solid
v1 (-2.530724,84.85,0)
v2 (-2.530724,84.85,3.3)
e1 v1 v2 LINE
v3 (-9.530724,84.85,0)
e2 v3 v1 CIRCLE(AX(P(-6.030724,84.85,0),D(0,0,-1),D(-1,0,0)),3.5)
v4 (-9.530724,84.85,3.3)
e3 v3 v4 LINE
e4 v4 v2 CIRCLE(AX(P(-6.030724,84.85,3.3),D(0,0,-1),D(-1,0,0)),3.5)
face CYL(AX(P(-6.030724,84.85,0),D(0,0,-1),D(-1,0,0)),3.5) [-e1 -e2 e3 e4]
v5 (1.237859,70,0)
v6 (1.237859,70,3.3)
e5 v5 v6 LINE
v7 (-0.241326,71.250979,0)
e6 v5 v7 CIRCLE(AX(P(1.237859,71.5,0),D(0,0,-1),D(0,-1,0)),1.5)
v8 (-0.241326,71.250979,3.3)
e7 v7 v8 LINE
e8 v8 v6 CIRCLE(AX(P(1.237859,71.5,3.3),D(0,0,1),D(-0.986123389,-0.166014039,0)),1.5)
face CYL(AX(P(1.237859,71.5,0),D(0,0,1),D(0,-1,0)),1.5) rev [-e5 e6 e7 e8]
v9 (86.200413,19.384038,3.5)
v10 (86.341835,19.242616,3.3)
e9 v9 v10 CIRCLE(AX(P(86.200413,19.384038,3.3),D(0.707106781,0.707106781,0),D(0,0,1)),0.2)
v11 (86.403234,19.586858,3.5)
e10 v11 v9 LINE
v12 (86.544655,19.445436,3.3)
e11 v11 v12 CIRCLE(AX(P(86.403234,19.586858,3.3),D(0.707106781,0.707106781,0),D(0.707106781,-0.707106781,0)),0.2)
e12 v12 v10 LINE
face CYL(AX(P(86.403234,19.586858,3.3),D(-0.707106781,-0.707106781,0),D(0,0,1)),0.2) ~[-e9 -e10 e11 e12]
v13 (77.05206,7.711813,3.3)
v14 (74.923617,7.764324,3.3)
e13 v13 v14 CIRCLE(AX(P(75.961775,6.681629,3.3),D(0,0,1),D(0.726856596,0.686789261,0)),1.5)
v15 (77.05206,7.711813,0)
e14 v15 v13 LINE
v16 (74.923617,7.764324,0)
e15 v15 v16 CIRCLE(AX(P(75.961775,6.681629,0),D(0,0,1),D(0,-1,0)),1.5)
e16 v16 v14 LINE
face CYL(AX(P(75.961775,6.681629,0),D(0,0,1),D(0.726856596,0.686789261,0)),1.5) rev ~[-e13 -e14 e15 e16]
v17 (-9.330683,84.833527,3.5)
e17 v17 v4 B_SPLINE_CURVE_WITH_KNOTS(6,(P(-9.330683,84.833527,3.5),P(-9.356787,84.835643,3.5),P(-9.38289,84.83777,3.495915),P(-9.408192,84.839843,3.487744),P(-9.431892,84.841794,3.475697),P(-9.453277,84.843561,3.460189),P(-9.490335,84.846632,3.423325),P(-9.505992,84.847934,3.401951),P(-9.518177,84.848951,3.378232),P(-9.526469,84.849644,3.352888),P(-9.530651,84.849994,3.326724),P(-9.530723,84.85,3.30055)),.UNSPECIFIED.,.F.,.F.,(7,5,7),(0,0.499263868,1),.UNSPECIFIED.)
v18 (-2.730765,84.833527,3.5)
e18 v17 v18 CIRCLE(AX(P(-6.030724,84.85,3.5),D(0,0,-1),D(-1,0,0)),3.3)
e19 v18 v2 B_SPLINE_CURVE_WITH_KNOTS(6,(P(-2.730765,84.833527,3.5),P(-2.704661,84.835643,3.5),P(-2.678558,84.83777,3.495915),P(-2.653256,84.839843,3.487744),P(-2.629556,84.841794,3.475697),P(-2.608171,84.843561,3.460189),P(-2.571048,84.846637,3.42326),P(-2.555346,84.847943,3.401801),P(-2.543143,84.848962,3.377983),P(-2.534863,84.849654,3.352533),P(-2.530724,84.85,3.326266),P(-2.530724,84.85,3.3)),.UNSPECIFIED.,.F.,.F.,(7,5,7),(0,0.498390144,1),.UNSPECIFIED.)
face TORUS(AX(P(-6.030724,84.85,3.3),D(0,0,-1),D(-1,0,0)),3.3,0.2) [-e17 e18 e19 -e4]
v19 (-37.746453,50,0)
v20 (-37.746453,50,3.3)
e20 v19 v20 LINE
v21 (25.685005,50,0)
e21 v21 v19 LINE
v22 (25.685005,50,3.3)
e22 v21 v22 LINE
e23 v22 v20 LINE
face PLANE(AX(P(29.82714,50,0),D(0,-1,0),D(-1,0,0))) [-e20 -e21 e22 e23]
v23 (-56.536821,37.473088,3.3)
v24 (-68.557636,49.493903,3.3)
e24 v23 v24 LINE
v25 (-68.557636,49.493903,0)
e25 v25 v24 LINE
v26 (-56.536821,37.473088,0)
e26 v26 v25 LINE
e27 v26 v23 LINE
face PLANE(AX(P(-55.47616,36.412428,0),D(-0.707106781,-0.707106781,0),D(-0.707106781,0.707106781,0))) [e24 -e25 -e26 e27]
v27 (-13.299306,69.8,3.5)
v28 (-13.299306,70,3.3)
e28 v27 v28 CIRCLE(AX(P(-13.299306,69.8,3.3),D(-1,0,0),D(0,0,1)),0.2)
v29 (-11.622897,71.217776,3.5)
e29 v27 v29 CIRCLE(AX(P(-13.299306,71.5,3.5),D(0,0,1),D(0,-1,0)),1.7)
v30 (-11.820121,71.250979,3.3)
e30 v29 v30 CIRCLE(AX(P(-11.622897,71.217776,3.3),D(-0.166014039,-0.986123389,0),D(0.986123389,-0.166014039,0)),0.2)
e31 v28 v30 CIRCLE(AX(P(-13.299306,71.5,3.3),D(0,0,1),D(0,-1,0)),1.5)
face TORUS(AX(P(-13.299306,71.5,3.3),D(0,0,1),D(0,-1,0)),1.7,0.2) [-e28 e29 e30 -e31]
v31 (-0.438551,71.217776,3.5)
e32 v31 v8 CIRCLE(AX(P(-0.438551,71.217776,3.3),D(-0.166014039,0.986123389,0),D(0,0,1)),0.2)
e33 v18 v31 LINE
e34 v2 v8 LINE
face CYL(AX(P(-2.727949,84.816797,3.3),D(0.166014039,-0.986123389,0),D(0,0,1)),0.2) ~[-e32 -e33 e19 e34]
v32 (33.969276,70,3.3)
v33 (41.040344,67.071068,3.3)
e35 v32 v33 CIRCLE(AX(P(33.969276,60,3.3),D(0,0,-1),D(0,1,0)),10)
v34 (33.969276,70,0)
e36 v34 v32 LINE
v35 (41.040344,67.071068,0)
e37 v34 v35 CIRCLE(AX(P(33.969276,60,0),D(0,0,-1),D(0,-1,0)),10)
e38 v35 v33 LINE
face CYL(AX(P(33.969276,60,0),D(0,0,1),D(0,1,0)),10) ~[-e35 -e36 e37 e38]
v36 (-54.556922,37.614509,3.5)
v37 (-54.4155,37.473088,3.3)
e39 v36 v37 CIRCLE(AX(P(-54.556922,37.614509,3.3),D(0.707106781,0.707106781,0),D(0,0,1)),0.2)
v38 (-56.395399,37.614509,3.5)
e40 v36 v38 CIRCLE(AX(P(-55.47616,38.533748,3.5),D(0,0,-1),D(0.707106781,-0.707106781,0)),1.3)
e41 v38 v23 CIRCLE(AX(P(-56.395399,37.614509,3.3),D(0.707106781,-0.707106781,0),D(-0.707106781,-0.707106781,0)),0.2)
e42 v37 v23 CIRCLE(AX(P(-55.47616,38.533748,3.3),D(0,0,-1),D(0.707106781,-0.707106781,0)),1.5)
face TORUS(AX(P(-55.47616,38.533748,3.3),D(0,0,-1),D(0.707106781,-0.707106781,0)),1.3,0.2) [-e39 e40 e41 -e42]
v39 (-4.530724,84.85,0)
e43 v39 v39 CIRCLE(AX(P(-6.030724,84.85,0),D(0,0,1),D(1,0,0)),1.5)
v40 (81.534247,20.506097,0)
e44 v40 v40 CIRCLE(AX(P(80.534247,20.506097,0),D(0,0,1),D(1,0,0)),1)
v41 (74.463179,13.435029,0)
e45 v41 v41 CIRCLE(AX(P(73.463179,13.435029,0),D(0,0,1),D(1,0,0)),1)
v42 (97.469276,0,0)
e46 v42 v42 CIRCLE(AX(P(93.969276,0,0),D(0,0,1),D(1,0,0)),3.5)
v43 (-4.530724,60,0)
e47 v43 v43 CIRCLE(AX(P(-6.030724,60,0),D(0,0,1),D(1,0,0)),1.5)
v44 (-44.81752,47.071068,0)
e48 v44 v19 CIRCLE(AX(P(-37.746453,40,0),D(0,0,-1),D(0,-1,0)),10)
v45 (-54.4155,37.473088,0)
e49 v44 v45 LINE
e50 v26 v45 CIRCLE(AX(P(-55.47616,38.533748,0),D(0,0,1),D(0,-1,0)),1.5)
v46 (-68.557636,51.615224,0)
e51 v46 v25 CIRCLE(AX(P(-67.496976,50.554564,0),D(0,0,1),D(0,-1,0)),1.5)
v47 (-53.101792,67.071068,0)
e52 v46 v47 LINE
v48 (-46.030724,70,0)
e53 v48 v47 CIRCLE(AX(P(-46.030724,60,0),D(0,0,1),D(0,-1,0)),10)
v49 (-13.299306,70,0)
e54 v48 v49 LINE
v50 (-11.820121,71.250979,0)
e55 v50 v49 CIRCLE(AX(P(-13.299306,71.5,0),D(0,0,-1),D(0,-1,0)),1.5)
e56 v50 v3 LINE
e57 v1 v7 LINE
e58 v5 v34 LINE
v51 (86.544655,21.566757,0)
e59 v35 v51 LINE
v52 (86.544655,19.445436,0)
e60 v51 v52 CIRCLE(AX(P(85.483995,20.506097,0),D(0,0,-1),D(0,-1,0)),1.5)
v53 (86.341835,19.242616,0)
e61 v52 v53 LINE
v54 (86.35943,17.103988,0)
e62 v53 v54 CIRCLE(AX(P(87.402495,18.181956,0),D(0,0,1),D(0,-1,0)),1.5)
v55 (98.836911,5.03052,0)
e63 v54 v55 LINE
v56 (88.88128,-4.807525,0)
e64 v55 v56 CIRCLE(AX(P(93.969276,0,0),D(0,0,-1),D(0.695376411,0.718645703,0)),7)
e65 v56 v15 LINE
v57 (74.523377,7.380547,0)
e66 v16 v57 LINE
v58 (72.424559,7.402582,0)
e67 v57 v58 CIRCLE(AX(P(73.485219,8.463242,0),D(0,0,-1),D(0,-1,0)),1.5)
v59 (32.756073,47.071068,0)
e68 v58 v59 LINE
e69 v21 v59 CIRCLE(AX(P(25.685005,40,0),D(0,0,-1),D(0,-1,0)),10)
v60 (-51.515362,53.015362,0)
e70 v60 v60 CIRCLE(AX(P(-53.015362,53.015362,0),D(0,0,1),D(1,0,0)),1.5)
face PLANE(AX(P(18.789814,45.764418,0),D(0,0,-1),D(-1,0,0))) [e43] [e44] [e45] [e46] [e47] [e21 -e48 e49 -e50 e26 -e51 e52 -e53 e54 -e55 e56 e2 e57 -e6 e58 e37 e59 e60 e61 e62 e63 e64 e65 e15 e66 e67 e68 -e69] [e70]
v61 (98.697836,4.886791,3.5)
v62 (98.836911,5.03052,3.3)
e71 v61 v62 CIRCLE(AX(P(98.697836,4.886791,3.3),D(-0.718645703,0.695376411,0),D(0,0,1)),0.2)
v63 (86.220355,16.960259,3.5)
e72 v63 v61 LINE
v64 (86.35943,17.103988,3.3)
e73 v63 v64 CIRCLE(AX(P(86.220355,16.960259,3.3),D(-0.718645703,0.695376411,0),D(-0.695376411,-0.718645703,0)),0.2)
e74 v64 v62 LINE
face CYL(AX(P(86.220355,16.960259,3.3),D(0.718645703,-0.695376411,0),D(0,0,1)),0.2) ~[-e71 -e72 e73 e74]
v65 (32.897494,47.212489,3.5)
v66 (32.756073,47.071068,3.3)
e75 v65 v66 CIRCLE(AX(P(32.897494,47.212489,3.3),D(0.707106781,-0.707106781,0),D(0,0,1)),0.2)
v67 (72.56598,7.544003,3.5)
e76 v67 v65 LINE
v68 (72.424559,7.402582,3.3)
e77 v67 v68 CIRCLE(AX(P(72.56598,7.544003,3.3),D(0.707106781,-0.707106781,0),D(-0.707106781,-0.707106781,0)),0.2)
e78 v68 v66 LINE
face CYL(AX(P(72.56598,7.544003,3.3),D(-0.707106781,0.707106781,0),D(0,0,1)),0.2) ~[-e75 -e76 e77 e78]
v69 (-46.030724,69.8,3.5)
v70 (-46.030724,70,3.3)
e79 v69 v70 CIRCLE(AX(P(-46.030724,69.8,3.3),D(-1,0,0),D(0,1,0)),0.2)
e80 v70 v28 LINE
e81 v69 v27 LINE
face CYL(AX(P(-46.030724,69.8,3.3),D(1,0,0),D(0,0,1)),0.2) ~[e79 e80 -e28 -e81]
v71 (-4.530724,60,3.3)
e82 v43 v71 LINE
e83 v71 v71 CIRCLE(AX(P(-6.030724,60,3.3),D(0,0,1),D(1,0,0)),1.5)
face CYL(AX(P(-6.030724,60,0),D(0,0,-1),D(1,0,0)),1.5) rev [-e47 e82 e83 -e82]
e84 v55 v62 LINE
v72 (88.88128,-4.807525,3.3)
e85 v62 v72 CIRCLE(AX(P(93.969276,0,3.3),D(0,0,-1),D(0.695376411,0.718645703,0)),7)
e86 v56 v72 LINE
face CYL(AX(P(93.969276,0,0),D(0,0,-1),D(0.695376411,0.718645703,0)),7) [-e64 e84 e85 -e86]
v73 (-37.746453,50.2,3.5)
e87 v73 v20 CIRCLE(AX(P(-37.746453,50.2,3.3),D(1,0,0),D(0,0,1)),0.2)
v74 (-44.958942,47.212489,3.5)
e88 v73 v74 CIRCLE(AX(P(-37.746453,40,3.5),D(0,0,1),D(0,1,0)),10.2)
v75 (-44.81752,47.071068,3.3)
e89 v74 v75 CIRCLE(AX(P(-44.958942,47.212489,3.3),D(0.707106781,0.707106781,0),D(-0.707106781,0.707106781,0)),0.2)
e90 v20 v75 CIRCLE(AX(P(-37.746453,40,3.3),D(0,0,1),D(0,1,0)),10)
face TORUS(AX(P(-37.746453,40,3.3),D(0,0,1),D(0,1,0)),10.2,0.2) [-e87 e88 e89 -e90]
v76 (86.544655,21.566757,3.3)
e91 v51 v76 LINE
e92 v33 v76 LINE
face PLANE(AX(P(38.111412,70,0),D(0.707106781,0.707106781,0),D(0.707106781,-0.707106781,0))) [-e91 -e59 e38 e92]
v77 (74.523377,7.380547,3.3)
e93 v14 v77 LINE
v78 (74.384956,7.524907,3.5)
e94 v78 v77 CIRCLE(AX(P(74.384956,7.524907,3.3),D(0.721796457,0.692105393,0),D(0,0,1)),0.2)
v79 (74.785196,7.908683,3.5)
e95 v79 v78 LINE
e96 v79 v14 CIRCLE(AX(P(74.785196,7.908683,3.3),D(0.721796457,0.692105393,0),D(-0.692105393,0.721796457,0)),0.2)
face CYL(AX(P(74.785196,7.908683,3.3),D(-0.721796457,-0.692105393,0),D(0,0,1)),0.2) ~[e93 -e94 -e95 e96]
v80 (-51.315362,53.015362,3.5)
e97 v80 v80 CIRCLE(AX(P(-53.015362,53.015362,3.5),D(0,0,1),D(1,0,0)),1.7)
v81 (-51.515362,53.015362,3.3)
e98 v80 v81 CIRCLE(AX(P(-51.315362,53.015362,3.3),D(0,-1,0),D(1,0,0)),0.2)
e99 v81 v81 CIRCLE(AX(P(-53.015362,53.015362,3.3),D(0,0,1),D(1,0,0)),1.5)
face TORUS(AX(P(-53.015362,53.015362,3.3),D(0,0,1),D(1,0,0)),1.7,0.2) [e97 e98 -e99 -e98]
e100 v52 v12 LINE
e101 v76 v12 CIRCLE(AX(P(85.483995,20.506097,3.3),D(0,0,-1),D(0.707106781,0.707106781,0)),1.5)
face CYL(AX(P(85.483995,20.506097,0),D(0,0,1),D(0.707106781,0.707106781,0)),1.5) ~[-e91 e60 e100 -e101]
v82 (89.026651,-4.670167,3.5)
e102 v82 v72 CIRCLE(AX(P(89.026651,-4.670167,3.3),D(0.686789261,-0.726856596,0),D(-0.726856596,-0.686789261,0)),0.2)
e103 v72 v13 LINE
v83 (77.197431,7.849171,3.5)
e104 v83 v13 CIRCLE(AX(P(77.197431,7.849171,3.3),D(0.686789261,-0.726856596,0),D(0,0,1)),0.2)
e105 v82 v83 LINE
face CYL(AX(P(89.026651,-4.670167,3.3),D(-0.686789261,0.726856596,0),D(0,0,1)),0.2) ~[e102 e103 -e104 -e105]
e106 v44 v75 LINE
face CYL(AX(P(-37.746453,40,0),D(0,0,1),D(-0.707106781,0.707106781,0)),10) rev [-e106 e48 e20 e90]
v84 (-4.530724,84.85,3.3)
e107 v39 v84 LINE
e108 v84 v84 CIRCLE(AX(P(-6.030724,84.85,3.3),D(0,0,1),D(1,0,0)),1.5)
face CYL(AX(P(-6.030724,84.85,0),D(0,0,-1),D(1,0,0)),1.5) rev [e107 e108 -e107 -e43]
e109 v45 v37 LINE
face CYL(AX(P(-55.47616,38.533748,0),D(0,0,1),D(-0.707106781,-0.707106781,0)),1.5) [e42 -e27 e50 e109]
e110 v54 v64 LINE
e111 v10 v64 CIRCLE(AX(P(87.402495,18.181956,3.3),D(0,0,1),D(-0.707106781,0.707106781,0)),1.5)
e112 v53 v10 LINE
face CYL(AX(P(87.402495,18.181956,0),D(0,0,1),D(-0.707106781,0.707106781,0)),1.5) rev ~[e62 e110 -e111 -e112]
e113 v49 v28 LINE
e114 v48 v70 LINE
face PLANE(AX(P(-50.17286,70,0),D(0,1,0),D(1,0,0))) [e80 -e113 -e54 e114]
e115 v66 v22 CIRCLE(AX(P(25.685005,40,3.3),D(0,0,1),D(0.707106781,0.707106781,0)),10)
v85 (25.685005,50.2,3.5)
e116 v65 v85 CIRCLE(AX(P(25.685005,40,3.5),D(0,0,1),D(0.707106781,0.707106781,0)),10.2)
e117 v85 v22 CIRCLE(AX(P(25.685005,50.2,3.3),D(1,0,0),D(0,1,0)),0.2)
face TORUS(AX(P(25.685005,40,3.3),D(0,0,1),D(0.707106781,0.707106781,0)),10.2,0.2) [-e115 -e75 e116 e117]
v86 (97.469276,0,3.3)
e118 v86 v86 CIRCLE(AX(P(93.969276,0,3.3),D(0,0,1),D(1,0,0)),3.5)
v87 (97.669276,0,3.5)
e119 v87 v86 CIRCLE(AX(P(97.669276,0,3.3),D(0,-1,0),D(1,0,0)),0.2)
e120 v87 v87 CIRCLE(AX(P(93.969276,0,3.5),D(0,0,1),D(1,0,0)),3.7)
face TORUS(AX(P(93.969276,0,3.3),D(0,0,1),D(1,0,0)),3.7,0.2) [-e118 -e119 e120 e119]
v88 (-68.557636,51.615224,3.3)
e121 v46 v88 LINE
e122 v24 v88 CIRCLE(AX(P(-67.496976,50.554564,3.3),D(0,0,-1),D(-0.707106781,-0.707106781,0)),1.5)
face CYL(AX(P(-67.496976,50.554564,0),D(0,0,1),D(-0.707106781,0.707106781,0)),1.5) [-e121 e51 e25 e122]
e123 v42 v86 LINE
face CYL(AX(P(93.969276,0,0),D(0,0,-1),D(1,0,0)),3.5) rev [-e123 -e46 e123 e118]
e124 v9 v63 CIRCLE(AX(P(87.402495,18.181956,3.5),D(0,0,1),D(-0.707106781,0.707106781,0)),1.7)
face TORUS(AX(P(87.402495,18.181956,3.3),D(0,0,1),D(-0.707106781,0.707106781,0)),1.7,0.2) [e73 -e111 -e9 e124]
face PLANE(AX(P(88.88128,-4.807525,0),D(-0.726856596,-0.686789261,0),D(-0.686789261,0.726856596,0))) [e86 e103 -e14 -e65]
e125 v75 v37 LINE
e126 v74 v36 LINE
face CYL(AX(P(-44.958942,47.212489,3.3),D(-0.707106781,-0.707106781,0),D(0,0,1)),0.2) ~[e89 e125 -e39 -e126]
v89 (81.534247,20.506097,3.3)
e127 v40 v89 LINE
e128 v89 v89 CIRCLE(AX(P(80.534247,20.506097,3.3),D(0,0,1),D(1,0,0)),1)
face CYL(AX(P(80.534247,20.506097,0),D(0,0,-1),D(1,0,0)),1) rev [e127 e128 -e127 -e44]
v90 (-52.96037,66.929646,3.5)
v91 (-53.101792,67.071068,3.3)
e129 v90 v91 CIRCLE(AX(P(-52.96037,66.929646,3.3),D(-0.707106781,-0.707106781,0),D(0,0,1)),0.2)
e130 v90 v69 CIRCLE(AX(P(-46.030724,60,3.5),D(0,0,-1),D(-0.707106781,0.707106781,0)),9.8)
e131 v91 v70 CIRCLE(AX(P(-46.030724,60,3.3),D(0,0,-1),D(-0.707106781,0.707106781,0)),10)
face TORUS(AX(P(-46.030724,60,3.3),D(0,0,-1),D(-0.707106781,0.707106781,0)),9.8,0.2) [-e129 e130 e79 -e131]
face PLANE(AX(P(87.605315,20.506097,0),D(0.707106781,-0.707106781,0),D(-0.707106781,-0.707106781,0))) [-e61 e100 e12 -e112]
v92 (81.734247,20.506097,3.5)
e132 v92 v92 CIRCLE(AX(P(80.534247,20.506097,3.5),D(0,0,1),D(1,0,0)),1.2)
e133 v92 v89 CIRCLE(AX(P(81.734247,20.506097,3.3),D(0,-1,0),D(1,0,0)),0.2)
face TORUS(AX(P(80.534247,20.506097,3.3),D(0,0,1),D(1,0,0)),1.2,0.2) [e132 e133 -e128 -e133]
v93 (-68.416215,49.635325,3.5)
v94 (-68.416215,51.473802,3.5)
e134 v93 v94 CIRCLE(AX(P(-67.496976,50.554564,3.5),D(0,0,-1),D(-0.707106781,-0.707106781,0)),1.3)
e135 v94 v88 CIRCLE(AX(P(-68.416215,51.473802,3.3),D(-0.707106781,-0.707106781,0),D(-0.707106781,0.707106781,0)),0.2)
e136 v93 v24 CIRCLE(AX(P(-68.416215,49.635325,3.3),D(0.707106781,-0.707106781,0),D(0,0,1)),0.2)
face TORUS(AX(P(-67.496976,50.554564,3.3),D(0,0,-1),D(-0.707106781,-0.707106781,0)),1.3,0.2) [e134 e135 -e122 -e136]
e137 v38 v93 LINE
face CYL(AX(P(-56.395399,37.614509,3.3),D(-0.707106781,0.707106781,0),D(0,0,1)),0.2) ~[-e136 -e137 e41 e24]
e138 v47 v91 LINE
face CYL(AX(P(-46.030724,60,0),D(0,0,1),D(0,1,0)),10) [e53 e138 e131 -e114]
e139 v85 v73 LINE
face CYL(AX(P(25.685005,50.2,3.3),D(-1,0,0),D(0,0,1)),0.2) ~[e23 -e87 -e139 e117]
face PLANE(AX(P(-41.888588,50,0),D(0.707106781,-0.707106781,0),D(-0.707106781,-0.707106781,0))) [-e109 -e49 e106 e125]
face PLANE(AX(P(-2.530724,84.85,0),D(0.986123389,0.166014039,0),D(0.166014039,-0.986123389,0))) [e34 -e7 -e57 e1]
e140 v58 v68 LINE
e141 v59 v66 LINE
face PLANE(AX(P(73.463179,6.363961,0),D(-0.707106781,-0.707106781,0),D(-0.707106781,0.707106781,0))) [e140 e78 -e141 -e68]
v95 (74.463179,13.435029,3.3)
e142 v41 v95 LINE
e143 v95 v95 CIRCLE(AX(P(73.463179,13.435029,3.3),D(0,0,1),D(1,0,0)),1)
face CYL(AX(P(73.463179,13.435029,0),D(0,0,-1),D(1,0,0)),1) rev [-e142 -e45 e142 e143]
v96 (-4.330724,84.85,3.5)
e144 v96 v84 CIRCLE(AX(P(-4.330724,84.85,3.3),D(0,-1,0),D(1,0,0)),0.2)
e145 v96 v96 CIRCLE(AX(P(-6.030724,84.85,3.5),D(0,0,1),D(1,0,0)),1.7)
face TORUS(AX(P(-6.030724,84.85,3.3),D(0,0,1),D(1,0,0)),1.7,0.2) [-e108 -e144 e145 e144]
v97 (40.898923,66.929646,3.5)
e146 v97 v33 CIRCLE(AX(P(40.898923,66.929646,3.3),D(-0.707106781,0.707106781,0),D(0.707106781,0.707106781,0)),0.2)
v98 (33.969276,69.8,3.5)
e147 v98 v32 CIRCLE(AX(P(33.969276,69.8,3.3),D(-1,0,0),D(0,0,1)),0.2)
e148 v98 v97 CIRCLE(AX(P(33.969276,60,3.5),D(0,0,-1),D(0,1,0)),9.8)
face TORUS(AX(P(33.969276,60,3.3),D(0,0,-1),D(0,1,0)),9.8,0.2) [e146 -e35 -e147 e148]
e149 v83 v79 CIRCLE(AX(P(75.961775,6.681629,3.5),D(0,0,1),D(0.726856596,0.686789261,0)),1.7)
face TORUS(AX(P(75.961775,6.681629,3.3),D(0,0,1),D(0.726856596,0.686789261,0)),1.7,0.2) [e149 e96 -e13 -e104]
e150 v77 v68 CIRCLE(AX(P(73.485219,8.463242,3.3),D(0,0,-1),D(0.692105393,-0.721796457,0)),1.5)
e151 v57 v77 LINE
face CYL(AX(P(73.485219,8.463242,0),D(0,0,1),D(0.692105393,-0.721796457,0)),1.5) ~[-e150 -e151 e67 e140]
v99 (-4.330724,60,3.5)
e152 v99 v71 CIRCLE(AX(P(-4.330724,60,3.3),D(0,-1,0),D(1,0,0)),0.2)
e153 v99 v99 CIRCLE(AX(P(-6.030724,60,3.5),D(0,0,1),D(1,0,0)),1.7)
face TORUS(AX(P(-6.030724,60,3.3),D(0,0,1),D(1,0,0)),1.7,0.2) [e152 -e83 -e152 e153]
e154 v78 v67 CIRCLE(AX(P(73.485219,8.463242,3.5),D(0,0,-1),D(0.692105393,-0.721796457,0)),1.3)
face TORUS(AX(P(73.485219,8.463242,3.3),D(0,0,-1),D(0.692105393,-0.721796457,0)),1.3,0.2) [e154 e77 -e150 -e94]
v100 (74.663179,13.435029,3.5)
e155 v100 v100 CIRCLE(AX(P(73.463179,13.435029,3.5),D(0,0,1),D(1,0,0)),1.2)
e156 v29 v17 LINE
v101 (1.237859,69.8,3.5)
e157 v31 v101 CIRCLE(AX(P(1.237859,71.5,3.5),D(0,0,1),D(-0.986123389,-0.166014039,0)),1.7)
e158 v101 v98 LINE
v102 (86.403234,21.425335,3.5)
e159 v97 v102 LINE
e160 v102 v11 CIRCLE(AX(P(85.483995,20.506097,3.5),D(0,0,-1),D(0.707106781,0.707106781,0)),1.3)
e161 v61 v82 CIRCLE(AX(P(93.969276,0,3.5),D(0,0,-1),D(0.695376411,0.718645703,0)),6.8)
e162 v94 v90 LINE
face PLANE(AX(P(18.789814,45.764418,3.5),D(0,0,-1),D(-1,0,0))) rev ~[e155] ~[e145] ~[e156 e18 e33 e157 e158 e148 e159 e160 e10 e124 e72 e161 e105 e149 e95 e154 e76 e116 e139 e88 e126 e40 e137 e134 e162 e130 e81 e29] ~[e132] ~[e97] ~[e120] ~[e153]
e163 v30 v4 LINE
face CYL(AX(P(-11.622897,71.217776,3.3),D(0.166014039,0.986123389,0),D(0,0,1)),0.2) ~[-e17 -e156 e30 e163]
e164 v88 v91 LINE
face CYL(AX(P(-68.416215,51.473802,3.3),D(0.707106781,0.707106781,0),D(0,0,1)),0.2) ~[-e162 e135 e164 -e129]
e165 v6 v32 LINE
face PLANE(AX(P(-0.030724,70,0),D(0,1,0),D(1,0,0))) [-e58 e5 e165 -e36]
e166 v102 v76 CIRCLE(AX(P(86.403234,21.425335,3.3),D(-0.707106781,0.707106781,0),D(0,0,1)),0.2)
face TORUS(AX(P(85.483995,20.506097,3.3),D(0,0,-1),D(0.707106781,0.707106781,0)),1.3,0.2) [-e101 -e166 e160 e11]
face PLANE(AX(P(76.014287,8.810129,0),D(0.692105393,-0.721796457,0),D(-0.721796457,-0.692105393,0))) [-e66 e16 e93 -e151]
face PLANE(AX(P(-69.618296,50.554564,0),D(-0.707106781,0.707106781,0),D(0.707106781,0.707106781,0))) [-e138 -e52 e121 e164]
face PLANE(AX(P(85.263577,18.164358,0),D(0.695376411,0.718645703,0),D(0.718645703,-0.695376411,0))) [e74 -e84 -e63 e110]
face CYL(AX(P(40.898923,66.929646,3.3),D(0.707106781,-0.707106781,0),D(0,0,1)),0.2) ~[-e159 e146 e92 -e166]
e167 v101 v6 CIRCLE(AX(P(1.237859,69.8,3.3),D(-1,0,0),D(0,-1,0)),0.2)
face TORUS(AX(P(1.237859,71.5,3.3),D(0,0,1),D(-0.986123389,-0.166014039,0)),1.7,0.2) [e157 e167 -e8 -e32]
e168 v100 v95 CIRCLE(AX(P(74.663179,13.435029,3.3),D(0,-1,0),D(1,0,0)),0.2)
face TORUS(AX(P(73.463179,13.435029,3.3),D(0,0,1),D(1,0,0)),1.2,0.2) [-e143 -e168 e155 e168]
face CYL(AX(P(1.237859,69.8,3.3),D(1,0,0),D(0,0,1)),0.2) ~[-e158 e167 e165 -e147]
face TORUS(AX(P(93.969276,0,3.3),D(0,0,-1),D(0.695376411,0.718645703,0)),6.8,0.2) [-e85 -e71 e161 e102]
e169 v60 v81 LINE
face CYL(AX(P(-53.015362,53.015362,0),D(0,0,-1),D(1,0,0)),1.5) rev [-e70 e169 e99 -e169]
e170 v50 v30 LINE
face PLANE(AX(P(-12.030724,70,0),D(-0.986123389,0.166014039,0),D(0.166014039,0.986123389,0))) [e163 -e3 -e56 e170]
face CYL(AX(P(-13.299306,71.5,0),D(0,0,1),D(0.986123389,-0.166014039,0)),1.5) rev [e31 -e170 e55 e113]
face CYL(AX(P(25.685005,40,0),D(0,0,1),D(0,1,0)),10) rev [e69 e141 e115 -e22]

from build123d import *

# Parameters (mm, degrees)
SKETCH5_R           = 3.5
SKETCH5_R_2         = 1.5
SKETCH5_R_3         = 1
BOSS_EXTRUDE1_DEPTH = 3.5
FILLET1_R           = 10
FILLET2_R           = 1.5
FILLET3_R           = 0.2


with BuildPart() as part:
    # Sketch5 → Boss-Extrude1 (new body)
    with BuildSketch(Plane.XY):
        with BuildLine():
            Line((-2.53072393, 84.85), (-0.03072393, 70))
            Line((-0.03072393, 70), (38.111411694, 70))
            Line((38.111411694, 70), (87.60531504, 20.506096654))
            Line((87.60531504, 20.506096654), (85.263576648, 18.164358262))
            Line((85.263576648, 18.164358262), (98.836910948, 5.030519924))
            ThreePointArc((98.836910948, 5.030519924), (98.889532253, -4.979064078), (88.881279899, -4.807524827))
            Line((88.881279899, -4.807524827), (76.014287219, 8.810129133))
            Line((76.014287219, 8.810129133), (73.463179416, 6.363961031))
            Line((73.463179416, 6.363961031), (29.827140447, 50))
            Line((29.827140447, 50), (-41.888588306, 50))
            Line((-41.888588306, 50), (-55.476160412, 36.412427894))
            Line((-55.476160412, 36.412427894), (-69.618296036, 50.554563517))
            Line((-69.618296036, 50.554563517), (-50.172859553, 70))
            Line((-50.172859553, 70), (-12.03072393, 70))
            Line((-12.03072393, 70), (-9.53072393, 84.85))
            ThreePointArc((-9.53072393, 84.85), (-6.03072393, 88.35), (-2.53072393, 84.85))
        make_face()
        with Locations((93.96927607, 0)):
            Circle(SKETCH5_R, mode=Mode.SUBTRACT)
        with Locations((-53.015361965, 53.015361965)):
            Circle(SKETCH5_R_2, mode=Mode.SUBTRACT)
        with Locations((-6.03072393, 84.85)):
            Circle(SKETCH5_R_2, mode=Mode.SUBTRACT)
        with Locations((-6.03072393, 60)):
            Circle(SKETCH5_R_2, mode=Mode.SUBTRACT)
        with Locations((80.534247228, 20.506096654)):
            Circle(SKETCH5_R_3, mode=Mode.SUBTRACT)
        with Locations((73.463179416, 13.435028843)):
            Circle(SKETCH5_R_3, mode=Mode.SUBTRACT)
    extrude(amount=BOSS_EXTRUDE1_DEPTH)

    # Fillet1
    fillet1_edges = [part.edges().sort_by_distance(p)[0] for p in [
        (29.827140447, 50, 1.75),
        (-41.888588306, 50, 1.75),
        (-50.172859553, 70, 1.75),
        (38.111411694, 70, 1.75),
    ]]
    fillet(fillet1_edges, radius=FILLET1_R)

    # Fillet2
    fillet2_edges = [part.edges().sort_by_distance(p)[0] for p in [
        (76.014287219, 8.810129133, 1.75),
        (73.463179416, 6.363961031, 1.75),
        (-55.476160412, 36.412427894, 1.75),
        (-69.618296036, 50.554563517, 1.75),
        (-12.03072393, 70, 1.75),
        (-0.03072393, 70, 1.75),
        (87.60531504, 20.506096654, 1.75),
        (85.263576648, 18.164358262, 1.75),
    ]]
    fillet(fillet2_edges, radius=FILLET2_R)

    # Fillet3
    fillet3_edges = [part.edges().sort_by_distance(p)[0] for p in [
        (-62.547228224, 43.483495706, 3.5),
        (-29.665015214, 70, 3.5),
        (74.723496899, 7.572435413, 3.5),
        (82.966669902, 1.452143944, 3.5),
        (86.443244813, 19.344026427, 3.5),
        (63.792499375, 44.318912319, 3.5),
        (-1.386025187, 78.050489471, 3.5),
        (86.983994696, 20.506096654, 3.5),
        (73.469471855, 6.963324661, 3.5),
        (-68.996975692, 50.554563517, 3.5),
        (-55.476160412, 37.033748237, 3.5),
        (-12.330681593, 70.354676555, 3.5),
        (0.269233734, 70.354676555, 3.5),
        (75.998770238, 8.181172538, 3.5),
        (85.902545695, 18.169615377, 3.5),
        (-6.03072393, 88.35, 3.5),
        (-10.675422672, 78.050489471, 3.5),
        (90.46927607, 0, 3.5),
        (-54.515361965, 53.015361965, 3.5),
        (-7.53072393, 84.85, 3.5),
        (98.889532253, -4.979064078, 3.5),
        (-7.53072393, 60, 3.5),
        (79.534247228, 20.506096654, 3.5),
        (72.463179416, 13.435028843, 3.5),
        (52.590315625, 27.236824822, 3.5),
        (-6.03072393, 50, 3.5),
        (-60.829713803, 59.343145751, 3.5),
        (17.603567355, 70, 3.5),
        (37.796110394, 69.238795325, 3.5),
        (-49.857558253, 69.238795325, 3.5),
        (29.511839147, 49.238795325, 3.5),
        (-41.573287006, 49.238795325, 3.5),
        (92.59817063, 11.067253784, 3.5),
        (-49.616510367, 42.272077939, 3.5),
    ]]
    fillet(fillet3_edges, radius=FILLET3_R)


solid = part.part
